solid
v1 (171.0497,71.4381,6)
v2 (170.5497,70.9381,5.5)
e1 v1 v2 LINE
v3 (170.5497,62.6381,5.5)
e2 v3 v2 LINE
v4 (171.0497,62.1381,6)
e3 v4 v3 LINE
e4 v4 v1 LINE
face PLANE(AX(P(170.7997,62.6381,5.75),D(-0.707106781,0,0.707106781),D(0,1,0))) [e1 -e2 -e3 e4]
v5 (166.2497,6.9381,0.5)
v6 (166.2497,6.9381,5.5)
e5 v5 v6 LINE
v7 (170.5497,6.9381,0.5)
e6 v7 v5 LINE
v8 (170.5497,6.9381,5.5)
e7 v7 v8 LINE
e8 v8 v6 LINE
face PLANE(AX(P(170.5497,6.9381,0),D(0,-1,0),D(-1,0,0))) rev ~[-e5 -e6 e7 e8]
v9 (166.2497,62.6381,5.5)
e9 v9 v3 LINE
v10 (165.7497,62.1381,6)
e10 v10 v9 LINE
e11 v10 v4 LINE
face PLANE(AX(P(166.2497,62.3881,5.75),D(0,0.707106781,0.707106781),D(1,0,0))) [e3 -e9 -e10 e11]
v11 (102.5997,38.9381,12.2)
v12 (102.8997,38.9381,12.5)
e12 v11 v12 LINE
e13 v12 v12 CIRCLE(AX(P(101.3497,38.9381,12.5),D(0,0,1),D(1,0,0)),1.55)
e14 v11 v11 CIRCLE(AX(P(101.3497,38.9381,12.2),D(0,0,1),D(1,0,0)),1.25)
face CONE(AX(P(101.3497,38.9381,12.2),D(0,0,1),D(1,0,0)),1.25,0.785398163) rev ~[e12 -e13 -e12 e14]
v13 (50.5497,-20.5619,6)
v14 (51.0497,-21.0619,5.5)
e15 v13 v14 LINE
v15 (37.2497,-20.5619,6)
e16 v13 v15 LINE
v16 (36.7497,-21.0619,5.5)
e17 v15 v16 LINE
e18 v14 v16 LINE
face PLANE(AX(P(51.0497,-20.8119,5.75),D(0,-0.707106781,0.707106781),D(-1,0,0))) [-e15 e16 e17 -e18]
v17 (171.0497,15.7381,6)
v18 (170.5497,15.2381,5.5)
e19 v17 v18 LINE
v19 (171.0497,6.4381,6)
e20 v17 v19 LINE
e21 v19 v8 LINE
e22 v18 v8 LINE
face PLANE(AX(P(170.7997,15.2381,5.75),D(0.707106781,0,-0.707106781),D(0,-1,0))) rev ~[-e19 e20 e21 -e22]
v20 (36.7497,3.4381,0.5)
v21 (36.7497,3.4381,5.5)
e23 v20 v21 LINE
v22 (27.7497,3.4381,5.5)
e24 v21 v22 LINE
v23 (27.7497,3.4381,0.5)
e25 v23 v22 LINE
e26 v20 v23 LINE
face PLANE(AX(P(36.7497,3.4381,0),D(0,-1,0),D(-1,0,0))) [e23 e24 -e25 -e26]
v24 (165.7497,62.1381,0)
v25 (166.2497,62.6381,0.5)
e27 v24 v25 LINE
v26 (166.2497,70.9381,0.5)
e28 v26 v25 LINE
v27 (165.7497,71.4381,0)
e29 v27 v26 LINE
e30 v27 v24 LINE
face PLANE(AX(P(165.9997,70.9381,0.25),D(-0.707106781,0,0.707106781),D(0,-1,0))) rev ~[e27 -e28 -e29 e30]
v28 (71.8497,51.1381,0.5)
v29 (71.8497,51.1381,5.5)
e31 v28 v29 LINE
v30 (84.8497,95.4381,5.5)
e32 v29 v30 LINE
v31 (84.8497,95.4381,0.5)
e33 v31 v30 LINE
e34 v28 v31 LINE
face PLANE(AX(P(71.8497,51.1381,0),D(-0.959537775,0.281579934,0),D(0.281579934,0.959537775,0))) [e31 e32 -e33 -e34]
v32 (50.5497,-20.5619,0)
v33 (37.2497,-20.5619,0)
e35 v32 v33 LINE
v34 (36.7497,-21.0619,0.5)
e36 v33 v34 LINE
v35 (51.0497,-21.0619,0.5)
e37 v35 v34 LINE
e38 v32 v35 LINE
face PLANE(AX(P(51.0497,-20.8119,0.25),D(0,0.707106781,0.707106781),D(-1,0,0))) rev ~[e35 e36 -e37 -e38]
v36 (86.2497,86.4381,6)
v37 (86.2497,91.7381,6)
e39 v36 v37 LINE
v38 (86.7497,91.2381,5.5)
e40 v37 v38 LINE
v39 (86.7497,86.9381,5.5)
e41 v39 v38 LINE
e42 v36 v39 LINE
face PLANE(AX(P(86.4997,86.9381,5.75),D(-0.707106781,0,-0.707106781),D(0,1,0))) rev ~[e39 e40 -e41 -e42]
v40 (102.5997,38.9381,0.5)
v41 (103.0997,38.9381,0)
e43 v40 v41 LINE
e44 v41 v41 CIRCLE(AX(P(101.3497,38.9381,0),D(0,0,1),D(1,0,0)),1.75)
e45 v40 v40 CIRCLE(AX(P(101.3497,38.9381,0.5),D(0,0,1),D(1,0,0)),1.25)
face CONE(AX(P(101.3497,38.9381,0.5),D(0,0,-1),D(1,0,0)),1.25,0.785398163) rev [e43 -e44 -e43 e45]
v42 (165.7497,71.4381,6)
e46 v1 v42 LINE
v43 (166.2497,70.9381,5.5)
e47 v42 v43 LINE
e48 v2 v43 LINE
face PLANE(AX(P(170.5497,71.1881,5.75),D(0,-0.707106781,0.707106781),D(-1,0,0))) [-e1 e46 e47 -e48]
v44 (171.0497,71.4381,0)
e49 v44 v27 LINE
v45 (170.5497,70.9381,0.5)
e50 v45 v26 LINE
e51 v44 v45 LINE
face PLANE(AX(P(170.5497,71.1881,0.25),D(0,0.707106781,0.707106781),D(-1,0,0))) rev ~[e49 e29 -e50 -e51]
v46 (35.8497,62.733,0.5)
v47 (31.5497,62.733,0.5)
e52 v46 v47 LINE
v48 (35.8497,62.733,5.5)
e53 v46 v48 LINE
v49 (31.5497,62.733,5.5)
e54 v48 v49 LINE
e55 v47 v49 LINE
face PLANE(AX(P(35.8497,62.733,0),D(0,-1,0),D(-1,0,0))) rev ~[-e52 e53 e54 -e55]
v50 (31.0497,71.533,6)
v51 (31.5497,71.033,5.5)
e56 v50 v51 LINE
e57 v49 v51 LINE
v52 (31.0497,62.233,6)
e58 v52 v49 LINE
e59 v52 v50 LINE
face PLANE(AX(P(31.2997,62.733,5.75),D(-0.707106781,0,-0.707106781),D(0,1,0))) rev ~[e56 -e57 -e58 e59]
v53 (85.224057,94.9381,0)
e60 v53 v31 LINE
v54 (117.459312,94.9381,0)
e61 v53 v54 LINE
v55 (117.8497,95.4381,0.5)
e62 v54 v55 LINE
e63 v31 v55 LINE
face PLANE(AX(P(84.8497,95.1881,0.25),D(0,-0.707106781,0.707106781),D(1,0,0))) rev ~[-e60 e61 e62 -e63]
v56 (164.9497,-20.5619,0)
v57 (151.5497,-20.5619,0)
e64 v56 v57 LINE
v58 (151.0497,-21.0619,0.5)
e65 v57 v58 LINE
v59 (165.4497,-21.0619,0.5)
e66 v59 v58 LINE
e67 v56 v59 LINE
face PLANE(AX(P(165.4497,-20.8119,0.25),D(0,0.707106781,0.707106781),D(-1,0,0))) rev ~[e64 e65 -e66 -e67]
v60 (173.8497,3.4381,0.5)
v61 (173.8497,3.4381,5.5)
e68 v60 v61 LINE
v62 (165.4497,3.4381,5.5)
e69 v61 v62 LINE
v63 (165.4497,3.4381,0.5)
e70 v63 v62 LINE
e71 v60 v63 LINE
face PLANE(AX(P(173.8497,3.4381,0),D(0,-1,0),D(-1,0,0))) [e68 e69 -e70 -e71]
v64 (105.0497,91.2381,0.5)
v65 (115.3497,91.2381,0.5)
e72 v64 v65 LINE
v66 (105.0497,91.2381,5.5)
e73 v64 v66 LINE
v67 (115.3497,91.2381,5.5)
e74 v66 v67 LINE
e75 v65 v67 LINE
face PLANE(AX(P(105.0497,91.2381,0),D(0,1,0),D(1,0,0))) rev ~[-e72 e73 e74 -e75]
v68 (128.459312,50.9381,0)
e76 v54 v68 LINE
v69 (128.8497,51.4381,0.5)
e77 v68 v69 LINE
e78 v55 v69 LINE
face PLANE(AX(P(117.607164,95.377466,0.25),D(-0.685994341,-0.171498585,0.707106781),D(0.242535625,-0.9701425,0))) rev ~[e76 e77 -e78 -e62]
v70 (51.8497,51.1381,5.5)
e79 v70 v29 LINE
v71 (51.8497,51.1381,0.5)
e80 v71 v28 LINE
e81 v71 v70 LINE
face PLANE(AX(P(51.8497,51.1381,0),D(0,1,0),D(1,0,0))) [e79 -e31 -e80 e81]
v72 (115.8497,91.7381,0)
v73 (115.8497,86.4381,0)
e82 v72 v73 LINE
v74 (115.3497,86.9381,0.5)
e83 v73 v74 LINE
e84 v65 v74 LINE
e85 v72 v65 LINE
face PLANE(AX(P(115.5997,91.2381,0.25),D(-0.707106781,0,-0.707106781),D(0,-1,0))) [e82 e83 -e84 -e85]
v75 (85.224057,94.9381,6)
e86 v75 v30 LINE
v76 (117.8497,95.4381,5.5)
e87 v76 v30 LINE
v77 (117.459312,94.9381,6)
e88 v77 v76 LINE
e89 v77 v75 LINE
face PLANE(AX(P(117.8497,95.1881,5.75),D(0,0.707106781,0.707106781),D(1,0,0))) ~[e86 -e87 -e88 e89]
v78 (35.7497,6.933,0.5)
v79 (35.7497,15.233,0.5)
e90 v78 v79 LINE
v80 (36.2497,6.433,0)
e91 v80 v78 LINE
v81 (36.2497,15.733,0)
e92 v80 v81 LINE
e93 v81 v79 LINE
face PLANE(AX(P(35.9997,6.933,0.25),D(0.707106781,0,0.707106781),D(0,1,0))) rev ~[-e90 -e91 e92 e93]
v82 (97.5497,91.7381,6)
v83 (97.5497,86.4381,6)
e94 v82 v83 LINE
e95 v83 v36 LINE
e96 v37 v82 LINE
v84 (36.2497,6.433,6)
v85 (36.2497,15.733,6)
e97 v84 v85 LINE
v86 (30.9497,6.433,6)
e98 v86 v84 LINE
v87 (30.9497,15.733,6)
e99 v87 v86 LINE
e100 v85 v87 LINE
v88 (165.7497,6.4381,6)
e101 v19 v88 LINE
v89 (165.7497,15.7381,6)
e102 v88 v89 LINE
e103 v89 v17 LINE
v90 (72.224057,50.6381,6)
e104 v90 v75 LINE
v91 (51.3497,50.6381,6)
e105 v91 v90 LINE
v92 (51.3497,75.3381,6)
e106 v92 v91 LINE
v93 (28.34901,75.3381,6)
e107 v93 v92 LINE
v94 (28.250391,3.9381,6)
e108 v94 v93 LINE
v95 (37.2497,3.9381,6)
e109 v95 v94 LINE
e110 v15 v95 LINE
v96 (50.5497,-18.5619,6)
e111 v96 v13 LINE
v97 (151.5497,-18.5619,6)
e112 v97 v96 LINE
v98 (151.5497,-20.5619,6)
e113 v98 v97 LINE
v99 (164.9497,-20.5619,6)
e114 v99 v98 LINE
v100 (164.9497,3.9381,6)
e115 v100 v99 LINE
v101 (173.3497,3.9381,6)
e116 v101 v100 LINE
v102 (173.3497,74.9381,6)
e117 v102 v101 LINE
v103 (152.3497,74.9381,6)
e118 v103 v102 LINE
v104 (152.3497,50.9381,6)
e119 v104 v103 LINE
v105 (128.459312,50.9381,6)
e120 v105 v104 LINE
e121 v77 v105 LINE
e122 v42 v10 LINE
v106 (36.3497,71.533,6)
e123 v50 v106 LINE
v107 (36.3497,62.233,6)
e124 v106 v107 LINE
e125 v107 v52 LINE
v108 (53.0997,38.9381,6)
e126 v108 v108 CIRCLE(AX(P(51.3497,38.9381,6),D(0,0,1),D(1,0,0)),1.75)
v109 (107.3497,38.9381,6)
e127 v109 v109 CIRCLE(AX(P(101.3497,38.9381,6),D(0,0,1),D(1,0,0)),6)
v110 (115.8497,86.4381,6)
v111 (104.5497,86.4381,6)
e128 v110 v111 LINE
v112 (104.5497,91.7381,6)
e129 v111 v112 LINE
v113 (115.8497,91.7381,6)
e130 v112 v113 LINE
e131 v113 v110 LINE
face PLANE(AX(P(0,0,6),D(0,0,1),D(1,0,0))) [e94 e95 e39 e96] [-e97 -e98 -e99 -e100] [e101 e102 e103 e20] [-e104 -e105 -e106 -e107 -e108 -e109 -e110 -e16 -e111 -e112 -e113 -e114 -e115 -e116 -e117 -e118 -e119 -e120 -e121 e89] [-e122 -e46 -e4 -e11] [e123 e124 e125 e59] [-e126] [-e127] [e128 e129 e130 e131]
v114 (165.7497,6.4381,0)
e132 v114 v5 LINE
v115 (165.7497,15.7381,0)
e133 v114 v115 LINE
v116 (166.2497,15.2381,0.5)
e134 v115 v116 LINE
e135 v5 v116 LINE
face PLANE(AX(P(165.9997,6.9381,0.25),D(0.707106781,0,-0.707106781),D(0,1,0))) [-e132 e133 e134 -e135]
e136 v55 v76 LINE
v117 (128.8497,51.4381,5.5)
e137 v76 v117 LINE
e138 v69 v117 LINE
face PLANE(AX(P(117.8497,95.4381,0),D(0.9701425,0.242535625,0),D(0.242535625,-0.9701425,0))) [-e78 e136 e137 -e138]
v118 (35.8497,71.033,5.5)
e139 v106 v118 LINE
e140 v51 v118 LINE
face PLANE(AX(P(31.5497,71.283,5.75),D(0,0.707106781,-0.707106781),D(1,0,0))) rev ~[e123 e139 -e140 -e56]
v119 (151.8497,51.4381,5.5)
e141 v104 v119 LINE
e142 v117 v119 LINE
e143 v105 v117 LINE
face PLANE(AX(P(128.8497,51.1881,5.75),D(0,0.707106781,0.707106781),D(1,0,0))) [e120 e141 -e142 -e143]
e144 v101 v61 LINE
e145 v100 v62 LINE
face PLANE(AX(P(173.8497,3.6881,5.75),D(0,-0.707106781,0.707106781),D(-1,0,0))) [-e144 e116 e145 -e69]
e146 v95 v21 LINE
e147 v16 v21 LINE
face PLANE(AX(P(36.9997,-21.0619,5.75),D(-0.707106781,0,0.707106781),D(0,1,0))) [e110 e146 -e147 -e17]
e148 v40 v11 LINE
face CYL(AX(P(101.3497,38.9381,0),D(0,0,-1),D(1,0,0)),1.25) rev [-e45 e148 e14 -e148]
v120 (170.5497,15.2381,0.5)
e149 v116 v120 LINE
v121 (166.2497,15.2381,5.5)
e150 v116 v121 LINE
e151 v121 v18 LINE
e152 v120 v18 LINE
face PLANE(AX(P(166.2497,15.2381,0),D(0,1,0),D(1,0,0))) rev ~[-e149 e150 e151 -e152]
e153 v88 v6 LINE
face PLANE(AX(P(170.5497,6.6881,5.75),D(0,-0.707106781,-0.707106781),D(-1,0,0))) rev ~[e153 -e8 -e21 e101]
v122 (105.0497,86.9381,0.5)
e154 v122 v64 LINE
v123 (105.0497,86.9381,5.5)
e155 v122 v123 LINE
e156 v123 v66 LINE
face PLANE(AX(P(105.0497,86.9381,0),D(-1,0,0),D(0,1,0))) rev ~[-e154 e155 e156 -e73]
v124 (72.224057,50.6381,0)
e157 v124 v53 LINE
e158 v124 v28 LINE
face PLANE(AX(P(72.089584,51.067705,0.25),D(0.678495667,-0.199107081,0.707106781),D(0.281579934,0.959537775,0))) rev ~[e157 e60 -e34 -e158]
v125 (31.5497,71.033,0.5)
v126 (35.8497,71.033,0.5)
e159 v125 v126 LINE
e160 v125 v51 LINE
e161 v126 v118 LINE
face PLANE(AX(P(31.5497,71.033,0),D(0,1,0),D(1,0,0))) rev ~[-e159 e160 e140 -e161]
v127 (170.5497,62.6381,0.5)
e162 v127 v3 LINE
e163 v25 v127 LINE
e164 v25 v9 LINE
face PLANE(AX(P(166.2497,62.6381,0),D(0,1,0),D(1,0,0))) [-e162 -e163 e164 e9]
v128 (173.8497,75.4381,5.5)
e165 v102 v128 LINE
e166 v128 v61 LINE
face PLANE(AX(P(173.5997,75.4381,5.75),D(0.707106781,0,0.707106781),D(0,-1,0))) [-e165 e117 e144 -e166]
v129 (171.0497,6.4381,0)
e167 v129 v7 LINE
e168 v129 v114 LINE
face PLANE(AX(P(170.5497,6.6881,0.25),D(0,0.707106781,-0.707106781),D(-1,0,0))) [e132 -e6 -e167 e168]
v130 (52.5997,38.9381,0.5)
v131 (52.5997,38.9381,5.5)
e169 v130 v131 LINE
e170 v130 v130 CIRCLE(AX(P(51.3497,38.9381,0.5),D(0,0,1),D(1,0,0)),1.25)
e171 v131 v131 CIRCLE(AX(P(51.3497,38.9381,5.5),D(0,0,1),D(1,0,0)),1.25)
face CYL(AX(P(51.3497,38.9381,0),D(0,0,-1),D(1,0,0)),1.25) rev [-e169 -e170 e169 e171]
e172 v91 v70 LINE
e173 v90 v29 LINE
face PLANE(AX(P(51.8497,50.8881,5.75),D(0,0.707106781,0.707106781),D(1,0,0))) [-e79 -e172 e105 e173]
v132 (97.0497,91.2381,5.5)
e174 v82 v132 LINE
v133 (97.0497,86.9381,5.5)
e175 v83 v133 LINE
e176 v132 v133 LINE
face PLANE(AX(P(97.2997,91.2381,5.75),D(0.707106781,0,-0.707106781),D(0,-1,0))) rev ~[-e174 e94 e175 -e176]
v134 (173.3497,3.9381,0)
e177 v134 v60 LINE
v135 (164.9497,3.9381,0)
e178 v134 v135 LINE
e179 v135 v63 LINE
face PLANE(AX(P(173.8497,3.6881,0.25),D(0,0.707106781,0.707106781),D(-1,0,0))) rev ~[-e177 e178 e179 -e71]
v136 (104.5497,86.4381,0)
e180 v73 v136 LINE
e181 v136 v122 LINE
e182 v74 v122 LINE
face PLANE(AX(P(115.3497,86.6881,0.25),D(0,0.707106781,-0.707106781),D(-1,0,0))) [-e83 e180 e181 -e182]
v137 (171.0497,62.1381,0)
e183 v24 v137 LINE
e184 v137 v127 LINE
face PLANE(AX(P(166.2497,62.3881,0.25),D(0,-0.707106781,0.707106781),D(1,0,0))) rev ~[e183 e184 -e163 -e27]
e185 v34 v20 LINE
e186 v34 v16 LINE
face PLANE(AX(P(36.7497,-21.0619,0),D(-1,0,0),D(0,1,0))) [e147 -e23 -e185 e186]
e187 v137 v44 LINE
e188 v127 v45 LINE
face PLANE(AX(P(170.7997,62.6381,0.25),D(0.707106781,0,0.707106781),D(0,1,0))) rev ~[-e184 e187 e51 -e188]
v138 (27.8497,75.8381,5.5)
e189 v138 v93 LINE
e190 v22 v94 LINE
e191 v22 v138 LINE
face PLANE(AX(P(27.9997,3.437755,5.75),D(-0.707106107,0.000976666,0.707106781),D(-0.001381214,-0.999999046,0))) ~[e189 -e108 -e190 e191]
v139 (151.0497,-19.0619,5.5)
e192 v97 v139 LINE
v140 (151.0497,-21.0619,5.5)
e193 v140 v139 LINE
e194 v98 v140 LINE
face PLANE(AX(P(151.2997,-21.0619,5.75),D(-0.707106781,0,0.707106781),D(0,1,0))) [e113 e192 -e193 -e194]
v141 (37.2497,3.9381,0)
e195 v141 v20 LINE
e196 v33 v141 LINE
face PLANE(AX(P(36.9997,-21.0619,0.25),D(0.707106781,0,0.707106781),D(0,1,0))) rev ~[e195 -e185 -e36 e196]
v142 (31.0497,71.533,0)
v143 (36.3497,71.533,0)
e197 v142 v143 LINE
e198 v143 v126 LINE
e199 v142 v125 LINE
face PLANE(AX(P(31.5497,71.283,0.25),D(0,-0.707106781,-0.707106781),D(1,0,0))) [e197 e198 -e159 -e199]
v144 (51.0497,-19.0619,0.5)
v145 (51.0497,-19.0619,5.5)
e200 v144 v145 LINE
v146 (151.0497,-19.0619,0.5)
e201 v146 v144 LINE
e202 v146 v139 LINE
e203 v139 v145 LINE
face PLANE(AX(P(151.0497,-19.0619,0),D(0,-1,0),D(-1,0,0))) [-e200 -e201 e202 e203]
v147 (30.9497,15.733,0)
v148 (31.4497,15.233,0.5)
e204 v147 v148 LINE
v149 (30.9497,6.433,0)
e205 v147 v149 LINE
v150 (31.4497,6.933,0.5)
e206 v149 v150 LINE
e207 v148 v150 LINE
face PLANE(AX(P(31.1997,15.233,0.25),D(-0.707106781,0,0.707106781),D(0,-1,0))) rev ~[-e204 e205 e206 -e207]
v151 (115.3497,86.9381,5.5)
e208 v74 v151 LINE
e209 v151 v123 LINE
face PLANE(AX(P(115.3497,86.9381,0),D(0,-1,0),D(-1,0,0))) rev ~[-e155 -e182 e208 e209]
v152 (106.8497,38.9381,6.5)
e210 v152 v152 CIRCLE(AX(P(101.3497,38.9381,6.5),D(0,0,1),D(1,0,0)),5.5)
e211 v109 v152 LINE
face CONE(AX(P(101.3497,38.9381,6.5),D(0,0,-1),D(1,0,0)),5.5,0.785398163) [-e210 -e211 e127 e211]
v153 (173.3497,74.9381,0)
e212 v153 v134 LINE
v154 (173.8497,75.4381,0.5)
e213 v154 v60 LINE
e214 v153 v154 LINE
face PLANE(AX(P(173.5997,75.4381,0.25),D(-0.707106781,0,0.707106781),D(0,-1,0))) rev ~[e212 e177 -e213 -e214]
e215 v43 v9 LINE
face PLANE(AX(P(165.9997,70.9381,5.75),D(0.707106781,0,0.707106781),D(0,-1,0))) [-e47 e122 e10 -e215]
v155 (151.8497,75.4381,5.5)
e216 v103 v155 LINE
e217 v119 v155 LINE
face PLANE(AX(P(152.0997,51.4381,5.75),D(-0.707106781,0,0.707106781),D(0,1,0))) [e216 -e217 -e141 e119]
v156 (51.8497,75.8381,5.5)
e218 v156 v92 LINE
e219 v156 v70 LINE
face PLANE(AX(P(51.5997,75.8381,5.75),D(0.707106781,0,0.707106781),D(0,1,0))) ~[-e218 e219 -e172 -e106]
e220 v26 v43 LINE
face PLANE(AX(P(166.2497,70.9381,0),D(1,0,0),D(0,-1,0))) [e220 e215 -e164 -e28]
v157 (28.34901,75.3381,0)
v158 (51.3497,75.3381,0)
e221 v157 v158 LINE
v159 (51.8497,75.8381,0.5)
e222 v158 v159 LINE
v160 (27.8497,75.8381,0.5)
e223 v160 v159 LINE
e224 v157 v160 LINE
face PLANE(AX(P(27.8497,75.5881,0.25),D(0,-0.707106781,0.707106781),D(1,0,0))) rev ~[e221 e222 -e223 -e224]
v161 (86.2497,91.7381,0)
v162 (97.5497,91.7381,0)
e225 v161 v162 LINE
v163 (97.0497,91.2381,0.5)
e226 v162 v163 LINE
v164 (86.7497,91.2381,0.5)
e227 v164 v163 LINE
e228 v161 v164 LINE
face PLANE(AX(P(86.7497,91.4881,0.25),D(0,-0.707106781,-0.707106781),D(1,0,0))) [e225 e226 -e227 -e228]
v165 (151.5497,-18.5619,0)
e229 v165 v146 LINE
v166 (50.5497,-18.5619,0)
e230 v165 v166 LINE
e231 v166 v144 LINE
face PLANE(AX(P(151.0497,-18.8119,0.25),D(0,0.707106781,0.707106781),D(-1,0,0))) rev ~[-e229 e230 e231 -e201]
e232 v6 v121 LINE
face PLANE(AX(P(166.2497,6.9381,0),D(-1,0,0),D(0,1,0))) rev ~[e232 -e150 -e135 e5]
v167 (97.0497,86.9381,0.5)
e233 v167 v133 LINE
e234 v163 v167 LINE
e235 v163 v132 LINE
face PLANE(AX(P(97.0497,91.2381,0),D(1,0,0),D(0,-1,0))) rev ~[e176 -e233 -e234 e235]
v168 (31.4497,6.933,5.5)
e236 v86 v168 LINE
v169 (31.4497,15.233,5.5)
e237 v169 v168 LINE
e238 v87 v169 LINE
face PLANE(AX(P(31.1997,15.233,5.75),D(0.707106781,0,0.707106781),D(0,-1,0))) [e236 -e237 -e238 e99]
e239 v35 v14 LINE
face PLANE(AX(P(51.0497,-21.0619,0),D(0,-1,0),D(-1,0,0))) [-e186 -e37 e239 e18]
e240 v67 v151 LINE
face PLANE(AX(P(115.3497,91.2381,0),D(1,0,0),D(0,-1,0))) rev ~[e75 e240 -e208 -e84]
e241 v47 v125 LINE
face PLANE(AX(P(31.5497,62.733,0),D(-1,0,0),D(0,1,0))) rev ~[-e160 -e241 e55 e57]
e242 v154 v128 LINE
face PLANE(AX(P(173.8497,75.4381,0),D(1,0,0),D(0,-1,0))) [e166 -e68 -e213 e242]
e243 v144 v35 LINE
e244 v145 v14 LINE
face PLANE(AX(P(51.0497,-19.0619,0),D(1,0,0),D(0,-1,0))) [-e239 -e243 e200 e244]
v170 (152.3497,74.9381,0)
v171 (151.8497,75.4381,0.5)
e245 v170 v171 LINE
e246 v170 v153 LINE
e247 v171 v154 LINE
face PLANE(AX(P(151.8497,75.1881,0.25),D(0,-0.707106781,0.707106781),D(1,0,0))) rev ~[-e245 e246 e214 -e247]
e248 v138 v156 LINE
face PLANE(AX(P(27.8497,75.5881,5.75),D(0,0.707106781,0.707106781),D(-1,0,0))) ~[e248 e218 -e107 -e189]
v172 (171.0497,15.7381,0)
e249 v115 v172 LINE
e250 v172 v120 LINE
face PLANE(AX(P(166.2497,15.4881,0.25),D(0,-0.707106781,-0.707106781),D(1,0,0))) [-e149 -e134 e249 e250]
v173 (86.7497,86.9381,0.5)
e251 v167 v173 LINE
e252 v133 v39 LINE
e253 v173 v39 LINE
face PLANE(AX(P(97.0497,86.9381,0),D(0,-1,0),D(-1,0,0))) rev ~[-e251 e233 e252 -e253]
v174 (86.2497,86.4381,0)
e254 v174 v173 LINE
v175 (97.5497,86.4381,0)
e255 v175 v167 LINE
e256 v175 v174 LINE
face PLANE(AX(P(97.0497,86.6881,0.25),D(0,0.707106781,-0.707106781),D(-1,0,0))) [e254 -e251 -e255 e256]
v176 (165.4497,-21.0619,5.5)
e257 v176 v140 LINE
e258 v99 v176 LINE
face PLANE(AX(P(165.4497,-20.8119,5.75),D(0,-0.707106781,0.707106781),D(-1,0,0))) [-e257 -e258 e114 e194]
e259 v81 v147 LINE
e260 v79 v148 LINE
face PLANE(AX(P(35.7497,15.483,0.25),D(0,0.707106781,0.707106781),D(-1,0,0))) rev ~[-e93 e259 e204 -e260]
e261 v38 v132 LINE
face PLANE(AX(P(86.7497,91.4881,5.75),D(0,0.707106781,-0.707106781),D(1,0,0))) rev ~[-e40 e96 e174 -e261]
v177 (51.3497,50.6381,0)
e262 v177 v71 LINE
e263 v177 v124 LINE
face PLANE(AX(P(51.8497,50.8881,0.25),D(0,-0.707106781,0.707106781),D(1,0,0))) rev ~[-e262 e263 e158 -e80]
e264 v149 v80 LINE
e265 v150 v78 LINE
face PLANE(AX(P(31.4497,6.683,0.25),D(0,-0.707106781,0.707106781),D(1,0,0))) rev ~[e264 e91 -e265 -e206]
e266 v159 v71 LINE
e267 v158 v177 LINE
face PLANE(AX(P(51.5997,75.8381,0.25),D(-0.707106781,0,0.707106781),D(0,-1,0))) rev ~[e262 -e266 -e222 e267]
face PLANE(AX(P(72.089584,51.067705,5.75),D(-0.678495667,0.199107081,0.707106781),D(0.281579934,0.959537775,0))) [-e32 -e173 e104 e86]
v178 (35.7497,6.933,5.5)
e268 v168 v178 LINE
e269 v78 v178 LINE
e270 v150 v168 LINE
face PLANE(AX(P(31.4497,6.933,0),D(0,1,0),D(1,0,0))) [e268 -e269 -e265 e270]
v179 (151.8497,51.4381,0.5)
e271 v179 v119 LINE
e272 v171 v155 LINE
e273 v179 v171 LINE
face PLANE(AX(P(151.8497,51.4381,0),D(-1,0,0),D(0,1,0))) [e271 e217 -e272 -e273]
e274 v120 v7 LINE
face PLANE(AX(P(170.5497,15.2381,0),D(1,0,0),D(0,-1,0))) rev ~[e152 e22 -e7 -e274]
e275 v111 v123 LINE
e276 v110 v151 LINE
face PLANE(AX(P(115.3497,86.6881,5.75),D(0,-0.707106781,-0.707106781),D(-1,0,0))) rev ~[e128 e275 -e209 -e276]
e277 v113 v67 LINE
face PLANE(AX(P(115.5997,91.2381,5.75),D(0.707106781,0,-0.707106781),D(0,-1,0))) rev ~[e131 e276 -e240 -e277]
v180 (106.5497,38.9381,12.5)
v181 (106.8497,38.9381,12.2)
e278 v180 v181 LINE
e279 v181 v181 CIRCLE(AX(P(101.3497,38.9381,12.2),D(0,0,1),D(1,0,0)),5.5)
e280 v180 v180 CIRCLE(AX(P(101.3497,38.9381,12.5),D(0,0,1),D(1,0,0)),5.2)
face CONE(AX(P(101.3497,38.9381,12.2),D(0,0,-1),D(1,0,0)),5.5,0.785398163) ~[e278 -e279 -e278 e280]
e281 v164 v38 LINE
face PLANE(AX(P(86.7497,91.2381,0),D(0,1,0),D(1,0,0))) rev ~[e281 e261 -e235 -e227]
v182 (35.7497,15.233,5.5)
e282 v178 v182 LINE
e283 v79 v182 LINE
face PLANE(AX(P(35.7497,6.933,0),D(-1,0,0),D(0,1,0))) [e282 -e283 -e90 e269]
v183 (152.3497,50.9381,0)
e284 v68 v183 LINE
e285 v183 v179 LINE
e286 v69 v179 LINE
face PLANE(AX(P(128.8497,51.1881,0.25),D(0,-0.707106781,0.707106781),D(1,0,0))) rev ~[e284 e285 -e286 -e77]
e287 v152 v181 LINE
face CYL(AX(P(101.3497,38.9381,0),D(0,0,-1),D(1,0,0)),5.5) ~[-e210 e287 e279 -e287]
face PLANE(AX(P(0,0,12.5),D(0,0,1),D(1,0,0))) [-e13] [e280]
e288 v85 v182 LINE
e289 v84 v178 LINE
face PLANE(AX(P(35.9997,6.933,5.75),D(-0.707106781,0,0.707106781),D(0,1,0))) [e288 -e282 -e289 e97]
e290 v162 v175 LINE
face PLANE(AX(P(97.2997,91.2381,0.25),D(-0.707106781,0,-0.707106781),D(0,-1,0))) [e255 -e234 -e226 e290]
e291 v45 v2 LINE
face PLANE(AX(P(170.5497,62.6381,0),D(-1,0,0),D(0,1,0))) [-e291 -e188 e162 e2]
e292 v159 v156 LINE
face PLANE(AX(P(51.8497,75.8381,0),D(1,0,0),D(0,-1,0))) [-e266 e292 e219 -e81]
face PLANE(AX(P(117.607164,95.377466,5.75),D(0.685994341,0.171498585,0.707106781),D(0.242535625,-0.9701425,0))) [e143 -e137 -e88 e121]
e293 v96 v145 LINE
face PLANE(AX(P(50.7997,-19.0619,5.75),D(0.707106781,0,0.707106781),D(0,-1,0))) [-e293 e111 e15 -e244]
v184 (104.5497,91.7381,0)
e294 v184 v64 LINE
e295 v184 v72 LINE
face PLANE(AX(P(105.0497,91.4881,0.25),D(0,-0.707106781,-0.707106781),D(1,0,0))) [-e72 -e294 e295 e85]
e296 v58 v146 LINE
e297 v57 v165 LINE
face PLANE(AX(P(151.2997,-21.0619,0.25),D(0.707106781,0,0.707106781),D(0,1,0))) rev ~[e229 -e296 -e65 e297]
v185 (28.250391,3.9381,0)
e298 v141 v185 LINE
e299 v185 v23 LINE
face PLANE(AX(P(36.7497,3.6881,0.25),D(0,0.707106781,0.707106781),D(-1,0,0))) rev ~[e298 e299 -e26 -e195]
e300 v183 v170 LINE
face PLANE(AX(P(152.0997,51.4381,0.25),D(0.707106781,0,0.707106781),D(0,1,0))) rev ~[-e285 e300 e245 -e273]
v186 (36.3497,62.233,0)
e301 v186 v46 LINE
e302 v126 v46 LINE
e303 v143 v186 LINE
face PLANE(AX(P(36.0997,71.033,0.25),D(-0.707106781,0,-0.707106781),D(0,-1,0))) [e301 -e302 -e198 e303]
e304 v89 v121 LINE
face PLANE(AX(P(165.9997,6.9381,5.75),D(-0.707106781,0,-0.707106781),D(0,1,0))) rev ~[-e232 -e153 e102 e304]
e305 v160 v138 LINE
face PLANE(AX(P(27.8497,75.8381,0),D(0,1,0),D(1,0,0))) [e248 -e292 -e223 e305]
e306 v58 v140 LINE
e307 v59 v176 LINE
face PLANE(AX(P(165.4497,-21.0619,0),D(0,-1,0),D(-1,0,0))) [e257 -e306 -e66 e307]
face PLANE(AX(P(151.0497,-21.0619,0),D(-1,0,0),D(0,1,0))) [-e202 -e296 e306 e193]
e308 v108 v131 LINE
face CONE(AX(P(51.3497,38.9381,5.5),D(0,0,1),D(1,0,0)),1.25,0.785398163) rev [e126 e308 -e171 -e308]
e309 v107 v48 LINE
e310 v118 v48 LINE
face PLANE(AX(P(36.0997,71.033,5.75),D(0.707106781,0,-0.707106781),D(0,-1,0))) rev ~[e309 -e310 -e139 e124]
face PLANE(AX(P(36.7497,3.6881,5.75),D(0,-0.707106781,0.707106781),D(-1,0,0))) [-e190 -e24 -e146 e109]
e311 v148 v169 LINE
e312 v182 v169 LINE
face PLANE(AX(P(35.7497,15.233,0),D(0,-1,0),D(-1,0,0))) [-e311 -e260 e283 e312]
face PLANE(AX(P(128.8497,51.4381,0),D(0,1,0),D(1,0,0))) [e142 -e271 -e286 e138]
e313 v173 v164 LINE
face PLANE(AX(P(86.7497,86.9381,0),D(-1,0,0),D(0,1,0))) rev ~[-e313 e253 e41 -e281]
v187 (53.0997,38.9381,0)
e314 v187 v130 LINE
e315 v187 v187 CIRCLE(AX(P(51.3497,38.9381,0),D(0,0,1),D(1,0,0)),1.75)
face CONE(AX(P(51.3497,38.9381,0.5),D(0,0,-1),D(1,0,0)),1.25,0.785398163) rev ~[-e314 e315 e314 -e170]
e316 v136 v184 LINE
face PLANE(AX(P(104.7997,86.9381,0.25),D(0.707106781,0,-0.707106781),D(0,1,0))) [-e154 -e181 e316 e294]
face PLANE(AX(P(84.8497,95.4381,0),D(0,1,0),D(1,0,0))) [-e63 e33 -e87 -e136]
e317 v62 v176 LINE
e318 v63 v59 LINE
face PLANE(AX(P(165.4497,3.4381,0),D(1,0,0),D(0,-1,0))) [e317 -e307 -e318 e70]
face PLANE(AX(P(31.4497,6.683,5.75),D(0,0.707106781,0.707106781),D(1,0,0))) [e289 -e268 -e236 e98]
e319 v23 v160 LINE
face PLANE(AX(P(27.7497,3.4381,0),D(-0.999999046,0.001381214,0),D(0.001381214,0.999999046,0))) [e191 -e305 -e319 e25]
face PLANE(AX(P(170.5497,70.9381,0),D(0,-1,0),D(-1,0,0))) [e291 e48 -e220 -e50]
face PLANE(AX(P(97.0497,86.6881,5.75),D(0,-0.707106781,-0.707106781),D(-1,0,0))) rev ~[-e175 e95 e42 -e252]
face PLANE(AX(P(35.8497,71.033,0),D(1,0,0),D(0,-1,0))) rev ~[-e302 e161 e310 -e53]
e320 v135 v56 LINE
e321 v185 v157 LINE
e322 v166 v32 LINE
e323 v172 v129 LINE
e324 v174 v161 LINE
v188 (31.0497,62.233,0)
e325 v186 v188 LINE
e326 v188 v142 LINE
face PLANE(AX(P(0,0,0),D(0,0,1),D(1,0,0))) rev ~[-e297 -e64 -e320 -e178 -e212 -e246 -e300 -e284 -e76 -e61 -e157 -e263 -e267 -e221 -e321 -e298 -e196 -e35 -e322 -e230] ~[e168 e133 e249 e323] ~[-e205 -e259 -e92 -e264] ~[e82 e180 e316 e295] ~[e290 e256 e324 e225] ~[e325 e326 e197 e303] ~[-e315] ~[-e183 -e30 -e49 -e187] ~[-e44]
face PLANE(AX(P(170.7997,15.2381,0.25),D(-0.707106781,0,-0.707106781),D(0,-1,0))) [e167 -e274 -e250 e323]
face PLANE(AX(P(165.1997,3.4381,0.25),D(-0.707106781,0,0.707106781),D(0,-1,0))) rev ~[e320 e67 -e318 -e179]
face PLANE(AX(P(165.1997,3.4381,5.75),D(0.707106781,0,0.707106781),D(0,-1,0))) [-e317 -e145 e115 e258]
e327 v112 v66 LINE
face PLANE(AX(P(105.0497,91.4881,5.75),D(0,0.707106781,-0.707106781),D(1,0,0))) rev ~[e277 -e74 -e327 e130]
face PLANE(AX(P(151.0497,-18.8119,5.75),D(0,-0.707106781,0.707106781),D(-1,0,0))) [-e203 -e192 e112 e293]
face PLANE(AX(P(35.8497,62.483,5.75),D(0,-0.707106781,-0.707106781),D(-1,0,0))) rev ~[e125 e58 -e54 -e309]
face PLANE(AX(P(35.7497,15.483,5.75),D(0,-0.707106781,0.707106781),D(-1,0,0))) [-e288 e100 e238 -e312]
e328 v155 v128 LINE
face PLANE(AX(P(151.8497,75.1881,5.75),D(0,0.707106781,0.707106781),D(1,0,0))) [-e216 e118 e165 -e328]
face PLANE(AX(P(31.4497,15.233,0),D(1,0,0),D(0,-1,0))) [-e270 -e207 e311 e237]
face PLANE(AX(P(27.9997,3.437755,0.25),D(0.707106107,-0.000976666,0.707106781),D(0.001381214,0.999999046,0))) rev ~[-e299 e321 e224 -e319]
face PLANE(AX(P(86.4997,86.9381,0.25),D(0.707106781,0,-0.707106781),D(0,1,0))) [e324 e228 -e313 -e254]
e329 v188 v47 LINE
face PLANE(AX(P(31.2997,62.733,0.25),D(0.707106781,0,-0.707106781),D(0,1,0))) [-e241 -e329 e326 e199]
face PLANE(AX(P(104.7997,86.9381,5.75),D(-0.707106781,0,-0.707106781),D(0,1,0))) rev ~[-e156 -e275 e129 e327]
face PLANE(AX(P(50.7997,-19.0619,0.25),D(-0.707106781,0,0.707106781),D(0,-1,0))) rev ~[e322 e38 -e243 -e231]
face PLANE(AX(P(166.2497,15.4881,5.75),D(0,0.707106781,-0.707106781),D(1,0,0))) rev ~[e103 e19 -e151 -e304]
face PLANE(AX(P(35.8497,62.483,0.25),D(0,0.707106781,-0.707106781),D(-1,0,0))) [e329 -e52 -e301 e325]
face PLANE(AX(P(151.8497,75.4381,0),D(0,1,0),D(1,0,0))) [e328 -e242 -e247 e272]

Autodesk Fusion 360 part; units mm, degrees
sketch "Sketch1" plane through (0, 0, 0) normal (0, 0, 1) x (1, 0, 0)
  line L0 (27.8497, 75.8381) -> (51.8497, 75.8381)
  line L1 (51.8497, 75.8381) -> (51.8497, 51.1381)
  line L2 (51.8497, 51.1381) -> (71.8497, 51.1381)
  line L3 (71.8497, 51.1381) -> (84.8497, 95.4381)
  line L4 (84.8497, 95.4381) -> (117.8497, 95.4381)
  line L5 (117.8497, 95.4381) -> (128.8497, 51.4381)
  line L6 (128.8497, 51.4381) -> (151.8497, 51.4381)
  line L7 (151.8497, 51.4381) -> (151.8497, 75.4381)
  line L8 (151.8497, 75.4381) -> (173.8497, 75.4381)
  line L9 (173.8497, 75.4381) -> (173.8497, 3.4381)
  line L10 (173.8497, 3.4381) -> (165.4497, 3.4381)
  line L11 (165.4497, 3.4381) -> (165.4497, -21.0619)
  line L12 (165.4497, -21.0619) -> (151.0497, -21.0619)
  line L13 (151.0497, -21.0619) -> (151.0497, -19.0619)
  line L14 (151.0497, -19.0619) -> (51.0497, -19.0619)
  line L15 (51.0497, -19.0619) -> (51.0497, -21.0619)
  line L16 (51.0497, -21.0619) -> (36.7497, -21.0619)
  line L17 (36.7497, -21.0619) -> (36.7497, 3.4381)
  line L18 (36.7497, 3.4381) -> (27.7497, 3.4381)
  line L19 (27.7497, 3.4381) -> (27.8497, 75.8381)
  line L20 (31.5497, 71.033) -> (35.8497, 71.033)
  line L21 (35.8497, 71.033) -> (35.8497, 62.733)
  line L22 (35.8497, 62.733) -> (31.5497, 62.733)
  line L23 (31.5497, 62.733) -> (31.5497, 71.033)
  line L24 (31.4497, 6.933) -> (35.7497, 6.933)
  line L25 (35.7497, 6.933) -> (35.7497, 15.233)
  line L26 (35.7497, 15.233) -> (31.4497, 15.233)
  line L27 (31.4497, 15.233) -> (31.4497, 6.933)
  line L28 (170.5497, 70.9381) -> (166.2497, 70.9381)
  line L29 (166.2497, 70.9381) -> (166.2497, 62.6381)
  line L30 (166.2497, 62.6381) -> (170.5497, 62.6381)
  line L31 (170.5497, 62.6381) -> (170.5497, 70.9381)
  line L32 (170.5497, 6.9381) -> (166.2497, 6.9381)
  line L33 (166.2497, 6.9381) -> (166.2497, 15.2381)
  line L34 (166.2497, 15.2381) -> (170.5497, 15.2381)
  line L35 (170.5497, 15.2381) -> (170.5497, 6.9381)
  line L36 (86.7497, 91.2381) -> (97.0497, 91.2381)
  line L37 (97.0497, 91.2381) -> (97.0497, 86.9381)
  line L38 (97.0497, 86.9381) -> (86.7497, 86.9381)
  line L39 (86.7497, 86.9381) -> (86.7497, 91.2381)
  line L40 (105.0497, 91.2381) -> (115.3497, 91.2381)
  line L41 (115.3497, 91.2381) -> (115.3497, 86.9381)
  line L42 (115.3497, 86.9381) -> (105.0497, 86.9381)
  line L43 (105.0497, 86.9381) -> (105.0497, 91.2381)
  line L44 (84.8497, 95.4381) -> (101.3497, 95.4381)
  circle A0 centre (101.3497, 38.9381) radius 1.25
  circle A1 centre (101.3497, 38.9381) radius 5.5
  circle A2 centre (51.3497, 38.9381) radius 1.25
  dimension "d1" = 24
  dimension "d2" = 24.7
  dimension "d3" = 20
  dimension "d6" = 33
  dimension "d9" = 23
  dimension "d10" = 24
  dimension "d11" = 22
  dimension "d12" = 72
  dimension "d13" = 8.4
  dimension "d14" = 24.5
  dimension "d15" = 14.4
  dimension "d16" = 2
  dimension "d17" = 100
  dimension "d18" = 2
  dimension "d19" = 14.3
  dimension "d20" = 24.5
  dimension "d21" = 9
  dimension "d24" = 4.3
  dimension "d25" = 8.3
  dimension "d28" = 4.3
  dimension "d29" = 8.3
  dimension "d32" = 4.3
  dimension "d33" = 8.3
  dimension "d36" = 4.3
  dimension "d37" = 8.3
  dimension "d40" = 10.3
  dimension "d41" = 4.3
  dimension "d42" = 8
  dimension "d43" = 10.3
  dimension "d44" = 4.3
  dimension "d45" = 56.5
  dimension "d46" = 2.5
  dimension "d47" = 11
  dimension "d48" = 50
  dimension "d49" = 2.5
extrude "Extrude1" add sketch "Sketch1" along normal blind 6 contours L0 L1 L2 L3 L4 L5 L6 L7 L8 L9 L10 L11 L12 L13 L14 L15 L16 L17 L18 L19 L44
extrude "Extrude2" add sketch "Sketch1" along normal blind 12.5 contours A1
chamfer "Chamfer1" distance 0.5 angle 45 1 faces at (101.0127, -1.5568, 6)
chamfer "Chamfer2" distance 0.3 angle 45 1 faces at (105.4126, 38.6648, 12.5)
chamfer "Chamfer3" distance 0.5 angle 45 1 faces at (101.0904, -0.141, 0)
